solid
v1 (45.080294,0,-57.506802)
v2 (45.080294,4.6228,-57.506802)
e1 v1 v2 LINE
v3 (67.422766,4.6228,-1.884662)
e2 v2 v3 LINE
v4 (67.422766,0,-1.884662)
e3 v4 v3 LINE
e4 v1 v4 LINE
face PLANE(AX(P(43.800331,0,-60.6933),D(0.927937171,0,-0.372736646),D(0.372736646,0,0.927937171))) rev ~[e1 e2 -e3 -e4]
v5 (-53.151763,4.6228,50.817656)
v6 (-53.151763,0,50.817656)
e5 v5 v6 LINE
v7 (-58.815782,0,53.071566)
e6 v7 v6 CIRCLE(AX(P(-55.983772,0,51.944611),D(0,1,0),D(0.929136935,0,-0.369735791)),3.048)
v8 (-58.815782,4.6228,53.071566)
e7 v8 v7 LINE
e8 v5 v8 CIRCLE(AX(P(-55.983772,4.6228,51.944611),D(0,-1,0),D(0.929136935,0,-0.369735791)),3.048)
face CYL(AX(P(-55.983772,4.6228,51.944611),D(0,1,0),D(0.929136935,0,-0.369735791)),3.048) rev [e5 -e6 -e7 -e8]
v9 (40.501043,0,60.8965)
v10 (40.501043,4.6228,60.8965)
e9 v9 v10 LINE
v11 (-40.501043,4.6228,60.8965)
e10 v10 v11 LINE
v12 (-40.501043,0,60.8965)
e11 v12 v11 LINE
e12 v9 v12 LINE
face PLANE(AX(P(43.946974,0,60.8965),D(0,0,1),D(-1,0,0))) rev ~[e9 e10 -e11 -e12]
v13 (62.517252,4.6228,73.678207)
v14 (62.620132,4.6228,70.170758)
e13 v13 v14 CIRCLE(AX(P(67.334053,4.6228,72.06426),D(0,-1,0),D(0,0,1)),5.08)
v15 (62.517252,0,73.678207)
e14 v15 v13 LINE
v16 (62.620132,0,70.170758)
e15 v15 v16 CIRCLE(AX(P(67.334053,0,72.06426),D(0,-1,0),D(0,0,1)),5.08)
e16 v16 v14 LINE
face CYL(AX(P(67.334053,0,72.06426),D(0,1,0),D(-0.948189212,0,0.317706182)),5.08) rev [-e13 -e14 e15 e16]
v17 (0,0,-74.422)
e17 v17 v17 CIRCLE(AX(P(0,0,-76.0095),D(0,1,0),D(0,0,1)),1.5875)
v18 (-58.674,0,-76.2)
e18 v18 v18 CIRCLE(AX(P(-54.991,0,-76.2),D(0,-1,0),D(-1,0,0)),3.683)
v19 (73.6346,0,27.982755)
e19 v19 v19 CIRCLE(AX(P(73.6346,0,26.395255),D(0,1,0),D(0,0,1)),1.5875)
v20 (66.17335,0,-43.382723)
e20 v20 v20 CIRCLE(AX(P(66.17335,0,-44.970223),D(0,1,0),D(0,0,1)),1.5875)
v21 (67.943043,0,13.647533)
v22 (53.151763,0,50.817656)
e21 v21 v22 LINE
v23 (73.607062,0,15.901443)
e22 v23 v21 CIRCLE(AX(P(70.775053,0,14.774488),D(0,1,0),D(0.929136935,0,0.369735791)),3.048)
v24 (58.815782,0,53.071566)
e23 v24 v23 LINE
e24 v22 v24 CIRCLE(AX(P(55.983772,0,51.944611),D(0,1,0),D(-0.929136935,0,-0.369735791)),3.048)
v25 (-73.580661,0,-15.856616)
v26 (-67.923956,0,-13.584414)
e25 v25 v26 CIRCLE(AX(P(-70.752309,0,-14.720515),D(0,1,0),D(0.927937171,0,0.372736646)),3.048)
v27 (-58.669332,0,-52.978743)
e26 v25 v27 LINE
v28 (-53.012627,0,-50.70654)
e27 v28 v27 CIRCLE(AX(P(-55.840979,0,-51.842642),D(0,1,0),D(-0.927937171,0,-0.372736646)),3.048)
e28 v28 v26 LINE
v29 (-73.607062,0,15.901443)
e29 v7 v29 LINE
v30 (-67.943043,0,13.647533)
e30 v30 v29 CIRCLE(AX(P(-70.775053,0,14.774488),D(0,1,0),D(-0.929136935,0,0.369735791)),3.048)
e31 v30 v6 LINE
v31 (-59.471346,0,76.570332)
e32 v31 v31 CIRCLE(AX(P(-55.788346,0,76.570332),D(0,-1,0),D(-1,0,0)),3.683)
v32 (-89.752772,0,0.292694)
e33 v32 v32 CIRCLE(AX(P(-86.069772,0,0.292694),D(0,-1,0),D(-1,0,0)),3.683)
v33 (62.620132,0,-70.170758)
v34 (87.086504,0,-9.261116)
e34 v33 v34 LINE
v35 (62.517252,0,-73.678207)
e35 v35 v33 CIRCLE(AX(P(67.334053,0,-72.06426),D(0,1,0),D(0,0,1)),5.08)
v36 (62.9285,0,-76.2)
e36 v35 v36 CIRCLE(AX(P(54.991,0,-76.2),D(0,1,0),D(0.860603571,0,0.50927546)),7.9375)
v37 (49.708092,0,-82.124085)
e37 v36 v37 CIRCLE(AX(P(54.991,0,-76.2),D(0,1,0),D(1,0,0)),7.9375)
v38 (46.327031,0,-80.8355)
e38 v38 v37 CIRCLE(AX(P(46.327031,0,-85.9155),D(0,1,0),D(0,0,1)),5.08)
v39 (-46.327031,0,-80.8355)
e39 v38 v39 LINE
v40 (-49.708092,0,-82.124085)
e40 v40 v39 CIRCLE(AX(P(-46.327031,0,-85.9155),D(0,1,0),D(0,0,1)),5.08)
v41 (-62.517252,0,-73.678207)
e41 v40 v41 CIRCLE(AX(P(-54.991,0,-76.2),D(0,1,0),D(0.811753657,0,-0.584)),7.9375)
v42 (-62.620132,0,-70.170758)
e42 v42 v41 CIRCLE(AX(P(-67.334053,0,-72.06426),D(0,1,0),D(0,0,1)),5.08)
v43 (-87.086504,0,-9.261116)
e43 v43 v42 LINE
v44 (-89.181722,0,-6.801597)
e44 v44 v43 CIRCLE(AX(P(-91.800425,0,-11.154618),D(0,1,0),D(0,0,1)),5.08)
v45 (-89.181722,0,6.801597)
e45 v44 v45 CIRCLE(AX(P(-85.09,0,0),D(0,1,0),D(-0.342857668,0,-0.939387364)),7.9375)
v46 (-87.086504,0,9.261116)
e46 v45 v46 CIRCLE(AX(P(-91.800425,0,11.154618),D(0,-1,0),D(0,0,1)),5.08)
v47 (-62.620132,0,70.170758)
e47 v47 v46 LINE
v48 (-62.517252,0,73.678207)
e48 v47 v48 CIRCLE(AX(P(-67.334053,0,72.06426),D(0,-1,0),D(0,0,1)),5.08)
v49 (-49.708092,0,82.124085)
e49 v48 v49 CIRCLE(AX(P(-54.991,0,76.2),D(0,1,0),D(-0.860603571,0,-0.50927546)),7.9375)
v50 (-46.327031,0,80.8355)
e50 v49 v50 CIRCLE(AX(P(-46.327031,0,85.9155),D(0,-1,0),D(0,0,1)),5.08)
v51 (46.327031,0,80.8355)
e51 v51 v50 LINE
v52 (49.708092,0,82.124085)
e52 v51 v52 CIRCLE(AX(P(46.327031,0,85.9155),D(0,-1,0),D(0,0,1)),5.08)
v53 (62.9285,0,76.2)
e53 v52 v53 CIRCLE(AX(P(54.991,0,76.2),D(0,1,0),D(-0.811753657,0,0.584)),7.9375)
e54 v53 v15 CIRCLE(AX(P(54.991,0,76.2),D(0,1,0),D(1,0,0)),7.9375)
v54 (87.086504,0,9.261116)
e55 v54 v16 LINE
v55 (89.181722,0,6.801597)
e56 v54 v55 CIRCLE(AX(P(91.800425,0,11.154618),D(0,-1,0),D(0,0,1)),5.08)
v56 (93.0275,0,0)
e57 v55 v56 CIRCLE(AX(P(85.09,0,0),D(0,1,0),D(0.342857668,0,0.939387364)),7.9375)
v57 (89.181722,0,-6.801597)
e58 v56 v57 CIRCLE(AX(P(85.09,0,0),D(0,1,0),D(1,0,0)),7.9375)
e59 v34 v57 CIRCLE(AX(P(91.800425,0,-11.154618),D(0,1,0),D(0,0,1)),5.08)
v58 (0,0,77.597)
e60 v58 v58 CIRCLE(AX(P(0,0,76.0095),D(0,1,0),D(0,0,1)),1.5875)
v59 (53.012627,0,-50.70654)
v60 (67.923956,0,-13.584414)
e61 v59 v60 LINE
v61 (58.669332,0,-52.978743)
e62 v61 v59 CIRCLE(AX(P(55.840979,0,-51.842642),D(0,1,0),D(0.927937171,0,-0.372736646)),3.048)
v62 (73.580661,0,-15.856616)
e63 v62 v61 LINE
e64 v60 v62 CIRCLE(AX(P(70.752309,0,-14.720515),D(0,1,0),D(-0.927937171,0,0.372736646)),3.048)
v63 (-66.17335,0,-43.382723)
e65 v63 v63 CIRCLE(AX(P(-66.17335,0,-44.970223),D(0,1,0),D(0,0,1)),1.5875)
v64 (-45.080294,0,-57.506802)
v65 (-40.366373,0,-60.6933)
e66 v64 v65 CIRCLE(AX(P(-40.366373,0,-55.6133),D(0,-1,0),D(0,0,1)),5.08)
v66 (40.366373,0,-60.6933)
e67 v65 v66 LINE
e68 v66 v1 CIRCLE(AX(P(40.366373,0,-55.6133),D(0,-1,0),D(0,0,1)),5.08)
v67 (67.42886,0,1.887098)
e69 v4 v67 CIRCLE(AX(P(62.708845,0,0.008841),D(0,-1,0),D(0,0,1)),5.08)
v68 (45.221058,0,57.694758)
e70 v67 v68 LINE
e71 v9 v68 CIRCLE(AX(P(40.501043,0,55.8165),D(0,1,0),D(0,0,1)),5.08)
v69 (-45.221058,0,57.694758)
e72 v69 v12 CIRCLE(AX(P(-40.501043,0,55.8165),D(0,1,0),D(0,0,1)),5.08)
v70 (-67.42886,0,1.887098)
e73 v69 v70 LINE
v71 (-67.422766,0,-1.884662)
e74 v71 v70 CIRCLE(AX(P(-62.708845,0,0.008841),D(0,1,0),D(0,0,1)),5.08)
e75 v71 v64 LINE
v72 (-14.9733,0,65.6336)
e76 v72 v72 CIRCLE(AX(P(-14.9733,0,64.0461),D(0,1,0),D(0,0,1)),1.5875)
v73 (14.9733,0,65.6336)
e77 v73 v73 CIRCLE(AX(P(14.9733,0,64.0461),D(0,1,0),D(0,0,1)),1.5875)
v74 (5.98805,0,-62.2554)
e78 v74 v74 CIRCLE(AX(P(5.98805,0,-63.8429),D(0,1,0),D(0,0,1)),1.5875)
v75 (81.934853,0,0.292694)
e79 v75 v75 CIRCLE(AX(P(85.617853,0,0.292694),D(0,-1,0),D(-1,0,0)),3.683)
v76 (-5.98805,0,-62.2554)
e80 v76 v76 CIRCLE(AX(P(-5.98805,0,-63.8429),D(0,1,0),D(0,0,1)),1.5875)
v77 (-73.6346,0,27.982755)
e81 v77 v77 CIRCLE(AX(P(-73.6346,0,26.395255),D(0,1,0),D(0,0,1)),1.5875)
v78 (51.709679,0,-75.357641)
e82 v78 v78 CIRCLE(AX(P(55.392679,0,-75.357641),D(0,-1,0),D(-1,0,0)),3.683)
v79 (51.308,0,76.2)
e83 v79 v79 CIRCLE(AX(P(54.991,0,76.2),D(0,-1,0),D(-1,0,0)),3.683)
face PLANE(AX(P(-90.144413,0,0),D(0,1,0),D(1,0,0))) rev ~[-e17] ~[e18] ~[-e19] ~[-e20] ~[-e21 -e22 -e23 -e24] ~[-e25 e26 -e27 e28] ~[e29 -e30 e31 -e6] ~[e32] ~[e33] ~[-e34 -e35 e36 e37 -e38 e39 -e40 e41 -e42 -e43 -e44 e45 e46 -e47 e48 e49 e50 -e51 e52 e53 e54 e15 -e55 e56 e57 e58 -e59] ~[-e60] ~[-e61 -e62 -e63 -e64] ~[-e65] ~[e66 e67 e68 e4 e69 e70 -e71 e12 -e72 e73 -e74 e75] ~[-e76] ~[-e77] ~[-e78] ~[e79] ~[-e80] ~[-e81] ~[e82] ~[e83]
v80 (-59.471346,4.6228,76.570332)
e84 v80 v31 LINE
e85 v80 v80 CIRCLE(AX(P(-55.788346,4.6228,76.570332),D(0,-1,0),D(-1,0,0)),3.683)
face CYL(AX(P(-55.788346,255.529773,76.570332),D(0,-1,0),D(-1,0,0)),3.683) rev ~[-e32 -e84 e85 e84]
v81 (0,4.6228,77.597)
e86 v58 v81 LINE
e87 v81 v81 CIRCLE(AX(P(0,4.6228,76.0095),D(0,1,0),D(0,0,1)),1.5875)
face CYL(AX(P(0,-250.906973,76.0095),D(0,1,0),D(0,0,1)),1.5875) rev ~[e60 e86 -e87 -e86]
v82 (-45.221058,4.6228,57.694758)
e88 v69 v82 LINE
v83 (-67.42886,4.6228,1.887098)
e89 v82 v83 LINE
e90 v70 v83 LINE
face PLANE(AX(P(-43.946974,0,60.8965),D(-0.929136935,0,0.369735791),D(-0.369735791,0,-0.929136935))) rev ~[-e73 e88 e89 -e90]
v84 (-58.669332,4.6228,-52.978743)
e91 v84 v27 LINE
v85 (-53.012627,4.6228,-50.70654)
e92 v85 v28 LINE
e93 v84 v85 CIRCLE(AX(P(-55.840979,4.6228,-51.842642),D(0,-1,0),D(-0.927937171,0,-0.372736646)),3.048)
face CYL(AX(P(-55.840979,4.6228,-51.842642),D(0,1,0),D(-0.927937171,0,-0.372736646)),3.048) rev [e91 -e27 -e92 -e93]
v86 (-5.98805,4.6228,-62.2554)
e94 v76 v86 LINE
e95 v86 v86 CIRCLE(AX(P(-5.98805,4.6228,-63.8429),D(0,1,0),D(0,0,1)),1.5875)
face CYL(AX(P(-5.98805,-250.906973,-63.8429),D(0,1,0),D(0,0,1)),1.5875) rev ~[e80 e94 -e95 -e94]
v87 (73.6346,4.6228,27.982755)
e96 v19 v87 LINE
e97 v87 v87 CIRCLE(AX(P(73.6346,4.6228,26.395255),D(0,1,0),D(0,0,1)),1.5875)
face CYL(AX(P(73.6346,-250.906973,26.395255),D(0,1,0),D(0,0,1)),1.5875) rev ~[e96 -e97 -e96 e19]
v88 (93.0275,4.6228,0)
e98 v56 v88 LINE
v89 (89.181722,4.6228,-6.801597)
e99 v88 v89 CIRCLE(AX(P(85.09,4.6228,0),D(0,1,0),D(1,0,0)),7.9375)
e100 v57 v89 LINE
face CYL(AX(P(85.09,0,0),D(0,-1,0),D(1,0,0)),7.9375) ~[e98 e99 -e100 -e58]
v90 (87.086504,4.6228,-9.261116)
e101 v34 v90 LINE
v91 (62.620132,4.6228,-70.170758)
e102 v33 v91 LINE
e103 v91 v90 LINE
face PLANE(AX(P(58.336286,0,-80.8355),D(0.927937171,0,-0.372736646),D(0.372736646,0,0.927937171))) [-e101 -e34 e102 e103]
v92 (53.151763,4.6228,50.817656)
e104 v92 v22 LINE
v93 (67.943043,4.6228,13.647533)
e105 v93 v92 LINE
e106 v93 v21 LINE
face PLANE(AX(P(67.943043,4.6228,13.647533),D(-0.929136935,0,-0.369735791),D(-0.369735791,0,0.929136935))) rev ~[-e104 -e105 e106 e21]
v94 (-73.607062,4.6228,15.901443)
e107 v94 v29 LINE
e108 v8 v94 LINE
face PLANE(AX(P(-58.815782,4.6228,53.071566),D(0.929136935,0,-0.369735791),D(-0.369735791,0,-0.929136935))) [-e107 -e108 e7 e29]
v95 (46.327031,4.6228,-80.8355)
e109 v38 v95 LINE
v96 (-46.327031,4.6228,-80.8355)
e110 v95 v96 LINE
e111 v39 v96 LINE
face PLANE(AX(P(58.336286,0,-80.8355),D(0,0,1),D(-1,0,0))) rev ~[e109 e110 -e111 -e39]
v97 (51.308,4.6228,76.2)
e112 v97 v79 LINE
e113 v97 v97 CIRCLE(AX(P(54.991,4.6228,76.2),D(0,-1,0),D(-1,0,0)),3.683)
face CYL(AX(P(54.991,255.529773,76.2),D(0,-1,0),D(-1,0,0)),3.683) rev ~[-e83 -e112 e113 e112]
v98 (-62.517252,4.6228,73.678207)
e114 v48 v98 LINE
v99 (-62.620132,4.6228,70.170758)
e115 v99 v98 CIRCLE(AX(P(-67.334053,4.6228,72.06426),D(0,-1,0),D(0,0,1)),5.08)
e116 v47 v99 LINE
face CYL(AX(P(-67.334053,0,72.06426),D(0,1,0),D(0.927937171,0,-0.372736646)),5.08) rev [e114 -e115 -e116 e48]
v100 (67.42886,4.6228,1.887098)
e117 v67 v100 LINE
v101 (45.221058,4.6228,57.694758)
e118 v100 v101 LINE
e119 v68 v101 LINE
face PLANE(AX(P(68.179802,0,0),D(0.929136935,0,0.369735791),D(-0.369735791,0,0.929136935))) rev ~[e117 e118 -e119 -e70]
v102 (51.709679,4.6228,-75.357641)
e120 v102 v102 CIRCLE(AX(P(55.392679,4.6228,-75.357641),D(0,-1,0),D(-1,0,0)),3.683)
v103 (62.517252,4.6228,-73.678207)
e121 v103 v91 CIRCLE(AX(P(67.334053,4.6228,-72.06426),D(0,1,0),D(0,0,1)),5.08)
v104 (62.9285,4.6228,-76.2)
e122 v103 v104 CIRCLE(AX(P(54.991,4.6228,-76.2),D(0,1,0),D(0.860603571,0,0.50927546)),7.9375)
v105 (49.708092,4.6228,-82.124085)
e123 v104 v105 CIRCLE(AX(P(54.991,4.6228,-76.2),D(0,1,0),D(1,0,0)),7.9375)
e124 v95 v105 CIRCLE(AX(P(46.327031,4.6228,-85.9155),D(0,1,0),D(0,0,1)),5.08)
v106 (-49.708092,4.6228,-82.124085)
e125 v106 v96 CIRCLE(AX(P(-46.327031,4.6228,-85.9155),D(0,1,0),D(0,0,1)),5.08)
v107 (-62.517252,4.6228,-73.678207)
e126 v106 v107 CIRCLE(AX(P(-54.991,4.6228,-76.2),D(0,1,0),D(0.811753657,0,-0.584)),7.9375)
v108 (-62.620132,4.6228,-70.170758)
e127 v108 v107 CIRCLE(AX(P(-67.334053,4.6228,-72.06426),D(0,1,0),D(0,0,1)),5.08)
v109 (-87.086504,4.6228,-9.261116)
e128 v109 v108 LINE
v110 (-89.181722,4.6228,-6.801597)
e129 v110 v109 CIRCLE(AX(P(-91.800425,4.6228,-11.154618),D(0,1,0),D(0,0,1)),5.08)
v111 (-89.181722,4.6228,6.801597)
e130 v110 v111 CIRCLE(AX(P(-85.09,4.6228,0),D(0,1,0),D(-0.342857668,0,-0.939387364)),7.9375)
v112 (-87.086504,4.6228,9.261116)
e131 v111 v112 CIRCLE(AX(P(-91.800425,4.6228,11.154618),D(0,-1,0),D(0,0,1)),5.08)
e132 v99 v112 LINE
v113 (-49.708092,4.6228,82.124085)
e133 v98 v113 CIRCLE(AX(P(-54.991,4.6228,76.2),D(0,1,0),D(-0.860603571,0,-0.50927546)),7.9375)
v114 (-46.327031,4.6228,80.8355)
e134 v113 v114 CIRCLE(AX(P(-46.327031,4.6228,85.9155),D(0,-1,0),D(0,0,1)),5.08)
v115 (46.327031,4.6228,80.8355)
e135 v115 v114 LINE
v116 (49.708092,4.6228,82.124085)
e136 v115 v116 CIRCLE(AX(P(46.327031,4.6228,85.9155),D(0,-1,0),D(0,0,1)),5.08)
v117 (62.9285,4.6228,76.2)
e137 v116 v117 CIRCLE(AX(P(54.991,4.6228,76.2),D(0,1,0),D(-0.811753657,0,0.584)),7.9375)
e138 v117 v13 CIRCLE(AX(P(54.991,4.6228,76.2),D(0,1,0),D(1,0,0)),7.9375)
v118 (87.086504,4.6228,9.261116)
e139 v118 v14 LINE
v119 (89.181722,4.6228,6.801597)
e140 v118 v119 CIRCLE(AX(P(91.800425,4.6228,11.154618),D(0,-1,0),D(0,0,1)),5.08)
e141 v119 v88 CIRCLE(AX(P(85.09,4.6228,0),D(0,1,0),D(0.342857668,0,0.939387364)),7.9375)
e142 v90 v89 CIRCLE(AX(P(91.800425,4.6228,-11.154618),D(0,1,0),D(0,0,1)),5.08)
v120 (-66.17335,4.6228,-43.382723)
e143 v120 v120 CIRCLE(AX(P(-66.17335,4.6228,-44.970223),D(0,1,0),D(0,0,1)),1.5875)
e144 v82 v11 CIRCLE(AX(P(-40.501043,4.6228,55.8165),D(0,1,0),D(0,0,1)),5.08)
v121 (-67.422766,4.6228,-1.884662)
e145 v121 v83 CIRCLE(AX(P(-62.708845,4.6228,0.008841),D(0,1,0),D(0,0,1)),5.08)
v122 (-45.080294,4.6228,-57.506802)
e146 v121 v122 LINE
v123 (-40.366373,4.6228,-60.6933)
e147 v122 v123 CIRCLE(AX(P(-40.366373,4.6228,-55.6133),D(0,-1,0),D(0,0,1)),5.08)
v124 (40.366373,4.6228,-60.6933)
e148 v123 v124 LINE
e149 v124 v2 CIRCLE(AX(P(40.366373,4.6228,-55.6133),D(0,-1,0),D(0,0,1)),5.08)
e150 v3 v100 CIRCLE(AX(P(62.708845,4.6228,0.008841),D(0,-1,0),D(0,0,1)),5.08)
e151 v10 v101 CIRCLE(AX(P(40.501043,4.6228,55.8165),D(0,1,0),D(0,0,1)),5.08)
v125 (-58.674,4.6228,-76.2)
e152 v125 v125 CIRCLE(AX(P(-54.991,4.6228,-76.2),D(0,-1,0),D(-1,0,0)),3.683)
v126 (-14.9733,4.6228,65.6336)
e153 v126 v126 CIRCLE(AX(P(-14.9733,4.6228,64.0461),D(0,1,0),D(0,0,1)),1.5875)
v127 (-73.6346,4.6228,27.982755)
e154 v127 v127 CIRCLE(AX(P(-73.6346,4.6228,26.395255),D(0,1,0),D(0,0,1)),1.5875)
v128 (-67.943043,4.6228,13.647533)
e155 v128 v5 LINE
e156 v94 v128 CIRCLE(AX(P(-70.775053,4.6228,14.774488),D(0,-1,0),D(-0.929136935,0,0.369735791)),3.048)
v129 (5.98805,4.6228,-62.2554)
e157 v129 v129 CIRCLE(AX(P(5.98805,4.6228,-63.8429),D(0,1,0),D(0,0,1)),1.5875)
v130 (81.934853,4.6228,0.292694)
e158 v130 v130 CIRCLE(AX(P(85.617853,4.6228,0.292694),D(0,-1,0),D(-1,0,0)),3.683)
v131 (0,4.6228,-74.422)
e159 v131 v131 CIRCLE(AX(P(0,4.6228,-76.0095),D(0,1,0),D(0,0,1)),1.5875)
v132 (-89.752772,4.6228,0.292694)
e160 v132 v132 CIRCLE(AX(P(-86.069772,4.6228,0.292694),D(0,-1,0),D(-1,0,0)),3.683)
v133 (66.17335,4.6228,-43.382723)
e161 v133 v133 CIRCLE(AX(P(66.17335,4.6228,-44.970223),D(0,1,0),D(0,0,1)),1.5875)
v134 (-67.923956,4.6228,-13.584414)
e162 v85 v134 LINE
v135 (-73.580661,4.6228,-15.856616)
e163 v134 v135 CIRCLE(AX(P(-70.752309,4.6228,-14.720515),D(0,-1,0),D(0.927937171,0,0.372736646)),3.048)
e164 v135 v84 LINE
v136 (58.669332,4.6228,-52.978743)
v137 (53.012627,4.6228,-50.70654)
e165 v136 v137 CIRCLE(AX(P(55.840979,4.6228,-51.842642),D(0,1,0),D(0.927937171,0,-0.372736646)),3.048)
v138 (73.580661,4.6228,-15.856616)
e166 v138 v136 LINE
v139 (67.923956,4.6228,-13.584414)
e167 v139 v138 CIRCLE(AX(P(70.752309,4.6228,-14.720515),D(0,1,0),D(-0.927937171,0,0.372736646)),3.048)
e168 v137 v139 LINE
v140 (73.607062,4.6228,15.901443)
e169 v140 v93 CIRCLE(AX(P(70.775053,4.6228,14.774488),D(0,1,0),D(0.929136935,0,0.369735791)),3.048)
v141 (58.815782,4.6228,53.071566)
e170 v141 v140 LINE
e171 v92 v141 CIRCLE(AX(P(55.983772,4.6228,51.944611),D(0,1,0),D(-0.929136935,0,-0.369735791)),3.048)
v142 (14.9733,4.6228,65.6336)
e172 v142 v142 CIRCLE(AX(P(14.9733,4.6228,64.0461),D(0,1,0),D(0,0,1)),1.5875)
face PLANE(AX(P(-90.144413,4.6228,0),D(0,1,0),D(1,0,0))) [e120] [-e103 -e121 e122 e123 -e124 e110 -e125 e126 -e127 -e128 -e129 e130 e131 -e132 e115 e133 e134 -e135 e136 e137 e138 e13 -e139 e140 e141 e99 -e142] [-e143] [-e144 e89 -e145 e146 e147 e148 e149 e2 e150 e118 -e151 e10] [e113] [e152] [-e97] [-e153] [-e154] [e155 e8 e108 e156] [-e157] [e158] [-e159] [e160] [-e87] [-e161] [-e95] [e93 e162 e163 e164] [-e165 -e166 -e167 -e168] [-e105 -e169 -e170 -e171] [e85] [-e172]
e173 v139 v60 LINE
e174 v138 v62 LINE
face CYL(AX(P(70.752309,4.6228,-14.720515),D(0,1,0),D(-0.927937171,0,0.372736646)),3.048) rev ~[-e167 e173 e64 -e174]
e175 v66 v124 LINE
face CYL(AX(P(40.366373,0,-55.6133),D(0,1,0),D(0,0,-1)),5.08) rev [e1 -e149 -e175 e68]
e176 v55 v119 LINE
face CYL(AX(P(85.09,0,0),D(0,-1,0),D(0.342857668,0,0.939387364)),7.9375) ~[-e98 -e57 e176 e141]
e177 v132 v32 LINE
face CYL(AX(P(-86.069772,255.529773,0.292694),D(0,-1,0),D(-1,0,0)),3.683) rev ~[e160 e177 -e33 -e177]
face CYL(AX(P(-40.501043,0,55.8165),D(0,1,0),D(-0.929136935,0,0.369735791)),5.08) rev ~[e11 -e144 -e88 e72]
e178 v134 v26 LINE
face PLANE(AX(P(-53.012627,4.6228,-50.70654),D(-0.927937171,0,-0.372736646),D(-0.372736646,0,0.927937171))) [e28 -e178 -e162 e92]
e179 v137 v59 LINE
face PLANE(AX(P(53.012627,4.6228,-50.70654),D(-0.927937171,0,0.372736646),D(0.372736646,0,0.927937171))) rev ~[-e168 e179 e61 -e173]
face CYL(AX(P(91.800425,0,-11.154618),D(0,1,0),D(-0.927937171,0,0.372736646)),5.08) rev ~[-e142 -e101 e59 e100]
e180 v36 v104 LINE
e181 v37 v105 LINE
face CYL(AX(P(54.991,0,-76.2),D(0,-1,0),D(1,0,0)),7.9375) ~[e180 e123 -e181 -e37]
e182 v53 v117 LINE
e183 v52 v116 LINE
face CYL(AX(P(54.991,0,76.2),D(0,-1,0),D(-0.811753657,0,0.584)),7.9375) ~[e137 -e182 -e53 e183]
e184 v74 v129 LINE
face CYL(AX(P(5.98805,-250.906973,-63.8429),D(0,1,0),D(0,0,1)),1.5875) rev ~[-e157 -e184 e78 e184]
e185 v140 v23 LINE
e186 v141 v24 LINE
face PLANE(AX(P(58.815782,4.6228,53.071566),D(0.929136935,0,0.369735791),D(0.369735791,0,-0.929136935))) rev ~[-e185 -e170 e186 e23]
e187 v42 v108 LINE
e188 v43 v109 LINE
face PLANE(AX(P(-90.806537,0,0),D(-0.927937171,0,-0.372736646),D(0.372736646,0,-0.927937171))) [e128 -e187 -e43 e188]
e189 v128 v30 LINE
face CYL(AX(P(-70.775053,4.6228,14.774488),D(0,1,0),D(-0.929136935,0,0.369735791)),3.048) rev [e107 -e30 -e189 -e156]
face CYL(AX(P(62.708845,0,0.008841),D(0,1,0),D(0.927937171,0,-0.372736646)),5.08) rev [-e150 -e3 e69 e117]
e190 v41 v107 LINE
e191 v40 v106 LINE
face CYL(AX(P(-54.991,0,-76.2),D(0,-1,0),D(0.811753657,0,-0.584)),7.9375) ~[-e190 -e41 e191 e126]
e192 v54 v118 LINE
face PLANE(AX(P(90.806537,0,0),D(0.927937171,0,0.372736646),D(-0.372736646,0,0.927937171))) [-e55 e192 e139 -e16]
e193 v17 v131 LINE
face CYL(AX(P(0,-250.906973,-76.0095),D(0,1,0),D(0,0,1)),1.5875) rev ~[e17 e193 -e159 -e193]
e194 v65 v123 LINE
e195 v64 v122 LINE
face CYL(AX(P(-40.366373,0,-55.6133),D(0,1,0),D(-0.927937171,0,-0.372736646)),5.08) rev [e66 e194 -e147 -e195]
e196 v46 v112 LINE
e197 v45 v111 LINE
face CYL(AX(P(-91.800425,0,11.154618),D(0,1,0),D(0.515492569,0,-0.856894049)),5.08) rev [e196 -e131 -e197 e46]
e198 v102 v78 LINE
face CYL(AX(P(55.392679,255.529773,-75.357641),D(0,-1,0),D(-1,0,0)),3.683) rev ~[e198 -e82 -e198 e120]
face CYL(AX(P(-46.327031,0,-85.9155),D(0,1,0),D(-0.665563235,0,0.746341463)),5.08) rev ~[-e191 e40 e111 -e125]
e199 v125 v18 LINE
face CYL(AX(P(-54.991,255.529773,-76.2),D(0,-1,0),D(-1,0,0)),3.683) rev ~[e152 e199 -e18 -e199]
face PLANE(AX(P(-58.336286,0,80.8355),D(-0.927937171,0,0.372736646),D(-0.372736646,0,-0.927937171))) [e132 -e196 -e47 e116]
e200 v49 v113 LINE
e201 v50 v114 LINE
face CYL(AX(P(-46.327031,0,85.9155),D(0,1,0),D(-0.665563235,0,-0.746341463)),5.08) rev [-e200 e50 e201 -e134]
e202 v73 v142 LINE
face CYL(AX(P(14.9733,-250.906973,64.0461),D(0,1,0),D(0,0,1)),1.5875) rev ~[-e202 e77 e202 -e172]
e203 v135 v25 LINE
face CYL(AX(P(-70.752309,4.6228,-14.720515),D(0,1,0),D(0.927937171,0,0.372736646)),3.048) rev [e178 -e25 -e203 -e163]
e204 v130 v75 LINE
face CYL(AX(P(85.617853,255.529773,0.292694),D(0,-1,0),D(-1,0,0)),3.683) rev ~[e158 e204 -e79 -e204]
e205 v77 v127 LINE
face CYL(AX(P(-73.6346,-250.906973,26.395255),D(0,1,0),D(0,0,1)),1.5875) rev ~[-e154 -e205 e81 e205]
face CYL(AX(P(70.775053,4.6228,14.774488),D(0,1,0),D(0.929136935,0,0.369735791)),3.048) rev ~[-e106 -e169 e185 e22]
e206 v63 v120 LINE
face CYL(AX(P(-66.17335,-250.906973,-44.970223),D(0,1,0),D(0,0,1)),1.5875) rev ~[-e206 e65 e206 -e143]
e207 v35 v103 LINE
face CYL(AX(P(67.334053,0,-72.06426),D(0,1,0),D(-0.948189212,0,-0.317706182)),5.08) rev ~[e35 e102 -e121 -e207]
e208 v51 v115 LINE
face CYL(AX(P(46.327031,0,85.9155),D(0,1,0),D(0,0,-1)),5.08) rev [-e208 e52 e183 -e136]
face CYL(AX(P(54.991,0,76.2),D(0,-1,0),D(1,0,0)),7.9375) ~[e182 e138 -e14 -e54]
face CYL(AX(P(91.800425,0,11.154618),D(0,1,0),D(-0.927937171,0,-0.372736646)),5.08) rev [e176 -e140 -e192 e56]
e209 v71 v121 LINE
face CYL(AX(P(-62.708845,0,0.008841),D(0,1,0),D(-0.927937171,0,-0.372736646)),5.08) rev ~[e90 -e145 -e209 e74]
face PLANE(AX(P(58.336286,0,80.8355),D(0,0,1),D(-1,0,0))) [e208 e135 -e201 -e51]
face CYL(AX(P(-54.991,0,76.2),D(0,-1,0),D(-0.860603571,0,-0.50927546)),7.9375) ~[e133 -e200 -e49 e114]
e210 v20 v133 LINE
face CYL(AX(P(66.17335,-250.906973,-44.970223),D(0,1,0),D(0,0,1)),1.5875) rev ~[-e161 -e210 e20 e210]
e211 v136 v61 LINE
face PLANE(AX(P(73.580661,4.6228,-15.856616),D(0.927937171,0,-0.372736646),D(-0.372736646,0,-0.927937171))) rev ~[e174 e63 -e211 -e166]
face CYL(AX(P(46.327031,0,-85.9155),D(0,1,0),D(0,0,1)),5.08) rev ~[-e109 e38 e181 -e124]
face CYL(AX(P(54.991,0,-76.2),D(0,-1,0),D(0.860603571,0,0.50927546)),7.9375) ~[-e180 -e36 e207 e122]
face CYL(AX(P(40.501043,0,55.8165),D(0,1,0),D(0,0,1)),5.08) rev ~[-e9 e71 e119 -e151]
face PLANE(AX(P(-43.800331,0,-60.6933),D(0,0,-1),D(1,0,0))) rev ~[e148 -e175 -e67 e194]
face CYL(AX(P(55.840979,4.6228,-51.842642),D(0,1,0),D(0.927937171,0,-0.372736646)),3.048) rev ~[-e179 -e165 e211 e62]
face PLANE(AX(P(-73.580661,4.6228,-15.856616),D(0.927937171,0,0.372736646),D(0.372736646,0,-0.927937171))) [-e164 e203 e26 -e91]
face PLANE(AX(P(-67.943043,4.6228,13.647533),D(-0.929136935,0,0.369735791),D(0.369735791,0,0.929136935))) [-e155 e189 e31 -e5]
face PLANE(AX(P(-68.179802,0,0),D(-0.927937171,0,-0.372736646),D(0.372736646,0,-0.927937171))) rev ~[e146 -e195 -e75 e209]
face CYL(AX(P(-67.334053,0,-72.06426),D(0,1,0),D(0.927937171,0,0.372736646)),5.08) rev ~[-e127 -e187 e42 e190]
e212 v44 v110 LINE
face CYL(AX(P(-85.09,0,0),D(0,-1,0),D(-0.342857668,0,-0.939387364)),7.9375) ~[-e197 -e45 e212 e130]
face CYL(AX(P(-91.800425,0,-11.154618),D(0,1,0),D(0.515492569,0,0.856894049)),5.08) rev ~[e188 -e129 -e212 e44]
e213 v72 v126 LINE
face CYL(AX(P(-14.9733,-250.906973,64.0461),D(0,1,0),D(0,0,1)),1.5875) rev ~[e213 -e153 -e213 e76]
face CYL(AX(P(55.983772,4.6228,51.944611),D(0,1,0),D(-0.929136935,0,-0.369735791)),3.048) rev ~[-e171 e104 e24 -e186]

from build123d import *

# Parameters (mm, degrees)
BOSS_EXTRUDE1_DEPTH          = 4.6228
L_0_29_DIAMETER_HOLE1_D      = 7.366
F_1_8_0_125_DIAMETER_HOLE1_D = 3.175
CUT_EXTRUDE1_DEPTH           = 126.517349169
FILLET1_R                    = 5.08


with BuildPart() as part:
    # Sketch1 → Boss-Extrude1 (new body)
    # profile 1 of 25: a face of its own
    with BuildSketch(Plane(origin=(0, 0, 0), x_dir=(1, 0, 0), z_dir=(0, 1, 0))):
        Polygon((-90.8065372, 0), (-58.336285833, 80.8355), (0, 80.8355), (58.336285833, 80.8355), (90.8065372, 0), (58.336285833, -80.8355), (-58.336285833, -80.8355), align=None)
        Polygon((68.179802243, 0), (43.946974167, -60.8965), (-43.946974167, -60.8965), (-68.179802243, 0), (-43.8003315, 60.6933), (0, 60.6933), (43.8003315, 60.6933), align=None, mode=Mode.SUBTRACT)
    # profile 2 of 25: a face of its own
    with BuildSketch(Plane(origin=(0, 0, 0), x_dir=(1, 0, 0), z_dir=(0, 1, 0))):
        with BuildLine():
            ThreePointArc((-47.0535, 76.2), (-47.436281026, 78.635185304), (-48.547705346, 80.8355))
            Line((-48.547705346, 80.8355), (-58.336285833, 80.8355))
            Line((-58.336285833, 80.8355), (-61.822040842, 72.157626035))
            ThreePointArc((-61.822040842, 72.157626035), (-52.895466706, 68.544110341), (-47.0535, 76.2))
        make_face()
    # profile 3 of 25: a face of its own
    with BuildSketch(Plane(origin=(0, 0, 0), x_dir=(1, 0, 0), z_dir=(0, 1, 0))):
        with BuildLine():
            Line((-58.336285833, 80.8355), (-48.547705346, 80.8355))
            ThreePointArc((-48.547705346, 80.8355), (-59.334266157, 82.843789983), (-61.822040842, 72.157626035))
            Line((-61.822040842, 72.157626035), (-58.336285833, 80.8355))
        make_face()
    # profile 4 of 25: a face of its own
    with BuildSketch(Plane(origin=(0, 0, 0), x_dir=(1, 0, 0), z_dir=(0, 1, 0))):
        with BuildLine():
            ThreePointArc((-47.0535, 76.2), (-47.436281026, 78.635185304), (-48.547705346, 80.8355))
            Line((-48.547705346, 80.8355), (-58.336285833, 80.8355))
            Line((-58.336285833, 80.8355), (-61.822040842, 72.157626035))
            ThreePointArc((-61.822040842, 72.157626035), (-52.895466706, 68.544110341), (-47.0535, 76.2))
        make_face()
    # profile 5 of 25: a face of its own
    with BuildSketch(Plane(origin=(0, 0, 0), x_dir=(1, 0, 0), z_dir=(0, 1, 0))):
        with BuildLine():
            Line((-58.336285833, 80.8355), (-48.547705346, 80.8355))
            ThreePointArc((-48.547705346, 80.8355), (-59.334266157, 82.843789983), (-61.822040842, 72.157626035))
            Line((-61.822040842, 72.157626035), (-58.336285833, 80.8355))
        make_face()
    # profile 6 of 25: a face of its own
    with BuildSketch(Plane(origin=(0, 0, 0), x_dir=(1, 0, 0), z_dir=(0, 1, 0))):
        with BuildLine():
            ThreePointArc((62.9285, 76.2), (57.426185304, 83.754718974), (48.547705346, 80.8355))
            Line((48.547705346, 80.8355), (58.336285833, 80.8355))
            Line((58.336285833, 80.8355), (61.822040842, 72.157626035))
            ThreePointArc((61.822040842, 72.157626035), (62.646889659, 74.104466706), (62.9285, 76.2))
        make_face()
    # profile 7 of 25: a face of its own
    with BuildSketch(Plane(origin=(0, 0, 0), x_dir=(1, 0, 0), z_dir=(0, 1, 0))):
        with BuildLine():
            Line((58.336285833, 80.8355), (48.547705346, 80.8355))
            ThreePointArc((48.547705346, 80.8355), (50.647733843, 69.556210017), (61.822040842, 72.157626035))
            Line((61.822040842, 72.157626035), (58.336285833, 80.8355))
        make_face()
    # profile 8 of 25: a face of its own
    with BuildSketch(Plane(origin=(0, 0, 0), x_dir=(1, 0, 0), z_dir=(0, 1, 0))):
        with BuildLine():
            ThreePointArc((62.9285, 76.2), (57.426185304, 83.754718974), (48.547705346, 80.8355))
            Line((48.547705346, 80.8355), (58.336285833, 80.8355))
            Line((58.336285833, 80.8355), (61.822040842, 72.157626035))
            ThreePointArc((61.822040842, 72.157626035), (62.646889659, 74.104466706), (62.9285, 76.2))
        make_face()
    # profile 9 of 25: a face of its own
    with BuildSketch(Plane(origin=(0, 0, 0), x_dir=(1, 0, 0), z_dir=(0, 1, 0))):
        with BuildLine():
            Line((58.336285833, 80.8355), (48.547705346, 80.8355))
            ThreePointArc((48.547705346, 80.8355), (50.647733843, 69.556210017), (61.822040842, 72.157626035))
            Line((61.822040842, 72.157626035), (58.336285833, 80.8355))
        make_face()
    # profile 10 of 25: a face of its own
    with BuildSketch(Plane(origin=(0, 0, 0), x_dir=(1, 0, 0), z_dir=(0, 1, 0))):
        with BuildLine():
            ThreePointArc((93.0275, 0), (91.594047917, 4.549864498), (87.811432738, 7.456387202))
            Line((87.811432738, 7.456387202), (90.8065372, 0))
            Line((90.8065372, 0), (87.811432738, -7.456387202))
            ThreePointArc((87.811432738, -7.456387202), (91.594047917, -4.549864498), (93.0275, 0))
        make_face()
    # profile 11 of 25: a face of its own
    with BuildSketch(Plane(origin=(0, 0, 0), x_dir=(1, 0, 0), z_dir=(0, 1, 0))):
        with BuildLine():
            Line((90.8065372, 0), (87.811432738, 7.456387202))
            ThreePointArc((87.811432738, 7.456387202), (77.1525, 0), (87.811432738, -7.456387202))
            Line((87.811432738, -7.456387202), (90.8065372, 0))
        make_face()
    # profile 12 of 25: a face of its own
    with BuildSketch(Plane(origin=(0, 0, 0), x_dir=(1, 0, 0), z_dir=(0, 1, 0))):
        with BuildLine():
            ThreePointArc((93.0275, 0), (91.594047917, 4.549864498), (87.811432738, 7.456387202))
            Line((87.811432738, 7.456387202), (90.8065372, 0))
            Line((90.8065372, 0), (87.811432738, -7.456387202))
            ThreePointArc((87.811432738, -7.456387202), (91.594047917, -4.549864498), (93.0275, 0))
        make_face()
    # profile 13 of 25: a face of its own
    with BuildSketch(Plane(origin=(0, 0, 0), x_dir=(1, 0, 0), z_dir=(0, 1, 0))):
        with BuildLine():
            Line((90.8065372, 0), (87.811432738, 7.456387202))
            ThreePointArc((87.811432738, 7.456387202), (77.1525, 0), (87.811432738, -7.456387202))
            Line((87.811432738, -7.456387202), (90.8065372, 0))
        make_face()
    # profile 14 of 25: a face of its own
    with BuildSketch(Plane(origin=(0, 0, 0), x_dir=(1, 0, 0), z_dir=(0, 1, 0))):
        with BuildLine():
            ThreePointArc((62.9285, -76.2), (62.646889659, -74.104466706), (61.822040842, -72.157626035))
            Line((61.822040842, -72.157626035), (58.336285833, -80.8355))
            Line((58.336285833, -80.8355), (48.547705346, -80.8355))
            ThreePointArc((48.547705346, -80.8355), (57.426185304, -83.754718974), (62.9285, -76.2))
        make_face()
    # profile 15 of 25: a face of its own
    with BuildSketch(Plane(origin=(0, 0, 0), x_dir=(1, 0, 0), z_dir=(0, 1, 0))):
        with BuildLine():
            Line((58.336285833, -80.8355), (61.822040842, -72.157626035))
            ThreePointArc((61.822040842, -72.157626035), (50.647733843, -69.556210017), (48.547705346, -80.8355))
            Line((48.547705346, -80.8355), (58.336285833, -80.8355))
        make_face()
    # profile 16 of 25: a face of its own
    with BuildSketch(Plane(origin=(0, 0, 0), x_dir=(1, 0, 0), z_dir=(0, 1, 0))):
        with BuildLine():
            ThreePointArc((62.9285, -76.2), (62.646889659, -74.104466706), (61.822040842, -72.157626035))
            Line((61.822040842, -72.157626035), (58.336285833, -80.8355))
            Line((58.336285833, -80.8355), (48.547705346, -80.8355))
            ThreePointArc((48.547705346, -80.8355), (57.426185304, -83.754718974), (62.9285, -76.2))
        make_face()
    # profile 17 of 25: a face of its own
    with BuildSketch(Plane(origin=(0, 0, 0), x_dir=(1, 0, 0), z_dir=(0, 1, 0))):
        with BuildLine():
            Line((58.336285833, -80.8355), (61.822040842, -72.157626035))
            ThreePointArc((61.822040842, -72.157626035), (50.647733843, -69.556210017), (48.547705346, -80.8355))
            Line((48.547705346, -80.8355), (58.336285833, -80.8355))
        make_face()
    # profile 18 of 25: a face of its own
    with BuildSketch(Plane(origin=(0, 0, 0), x_dir=(1, 0, 0), z_dir=(0, 1, 0))):
        with BuildLine():
            ThreePointArc((-47.0535, -76.2), (-52.895466706, -68.544110341), (-61.822040842, -72.157626035))
            Line((-61.822040842, -72.157626035), (-58.336285833, -80.8355))
            Line((-58.336285833, -80.8355), (-48.547705346, -80.8355))
            ThreePointArc((-48.547705346, -80.8355), (-47.436281026, -78.635185304), (-47.0535, -76.2))
        make_face()
    # profile 19 of 25: a face of its own
    with BuildSketch(Plane(origin=(0, 0, 0), x_dir=(1, 0, 0), z_dir=(0, 1, 0))):
        with BuildLine():
            Line((-58.336285833, -80.8355), (-61.822040842, -72.157626035))
            ThreePointArc((-61.822040842, -72.157626035), (-59.334266157, -82.843789983), (-48.547705346, -80.8355))
            Line((-48.547705346, -80.8355), (-58.336285833, -80.8355))
        make_face()
    # profile 20 of 25: a face of its own
    with BuildSketch(Plane(origin=(0, 0, 0), x_dir=(1, 0, 0), z_dir=(0, 1, 0))):
        with BuildLine():
            ThreePointArc((-47.0535, -76.2), (-52.895466706, -68.544110341), (-61.822040842, -72.157626035))
            Line((-61.822040842, -72.157626035), (-58.336285833, -80.8355))
            Line((-58.336285833, -80.8355), (-48.547705346, -80.8355))
            ThreePointArc((-48.547705346, -80.8355), (-47.436281026, -78.635185304), (-47.0535, -76.2))
        make_face()
    # profile 21 of 25: a face of its own
    with BuildSketch(Plane(origin=(0, 0, 0), x_dir=(1, 0, 0), z_dir=(0, 1, 0))):
        with BuildLine():
            Line((-58.336285833, -80.8355), (-61.822040842, -72.157626035))
            ThreePointArc((-61.822040842, -72.157626035), (-59.334266157, -82.843789983), (-48.547705346, -80.8355))
            Line((-48.547705346, -80.8355), (-58.336285833, -80.8355))
        make_face()
    # profile 22 of 25: a face of its own
    with BuildSketch(Plane(origin=(0, 0, 0), x_dir=(1, 0, 0), z_dir=(0, 1, 0))):
        with BuildLine():
            ThreePointArc((-77.1525, 0), (-80.540135502, 6.504047917), (-87.811432738, 7.456387202))
            Line((-87.811432738, 7.456387202), (-90.8065372, 0))
            Line((-90.8065372, 0), (-87.811432738, -7.456387202))
            ThreePointArc((-87.811432738, -7.456387202), (-80.540135502, -6.504047917), (-77.1525, 0))
        make_face()
    # profile 23 of 25: a face of its own
    with BuildSketch(Plane(origin=(0, 0, 0), x_dir=(1, 0, 0), z_dir=(0, 1, 0))):
        with BuildLine():
            Line((-90.8065372, 0), (-87.811432738, 7.456387202))
            ThreePointArc((-87.811432738, 7.456387202), (-93.0275, 0), (-87.811432738, -7.456387202))
            Line((-87.811432738, -7.456387202), (-90.8065372, 0))
        make_face()
    # profile 24 of 25: a face of its own
    with BuildSketch(Plane(origin=(0, 0, 0), x_dir=(1, 0, 0), z_dir=(0, 1, 0))):
        with BuildLine():
            ThreePointArc((-77.1525, 0), (-80.540135502, 6.504047917), (-87.811432738, 7.456387202))
            Line((-87.811432738, 7.456387202), (-90.8065372, 0))
            Line((-90.8065372, 0), (-87.811432738, -7.456387202))
            ThreePointArc((-87.811432738, -7.456387202), (-80.540135502, -6.504047917), (-77.1525, 0))
        make_face()
    # profile 25 of 25: a face of its own
    with BuildSketch(Plane(origin=(0, 0, 0), x_dir=(1, 0, 0), z_dir=(0, 1, 0))):
        with BuildLine():
            Line((-90.8065372, 0), (-87.811432738, 7.456387202))
            ThreePointArc((-87.811432738, 7.456387202), (-93.0275, 0), (-87.811432738, -7.456387202))
            Line((-87.811432738, -7.456387202), (-90.8065372, 0))
        make_face()
    extrude(amount=BOSS_EXTRUDE1_DEPTH)

    # L (0.29) Diameter Hole1 (through all)
    with Locations(Plane(origin=(0, 4.6228, 0), x_dir=(1, 0, 0), z_dir=(0, 1, 0))):
        with Locations((-54.991, 76.2), (85.617853256, -0.292694294), (55.392678921, 75.357641332), (54.991, -76.2), (-55.78834552, -76.570331566), (-86.069772248, -0.292694294)):
            Hole(L_0_29_DIAMETER_HOLE1_D / 2)

    # 1/8 (0.125) Diameter Hole1 (through all)
    with Locations(Plane(origin=(0, 0, -76.0095), x_dir=(0, 0, -1), z_dir=(0, -1, 0))):
        with Locations((0, 0), (-102.404754969, -73.6346), (-31.039277207, -66.17335), (-31.039277207, 66.17335), (-102.404754969, 73.6346), (-152.019, 0), (-140.0556, 14.9733), (-140.0556, -14.9733), (-12.1666, 5.98805), (-12.1666, -5.98805)):
            Hole(F_1_8_0_125_DIAMETER_HOLE1_D / 2)

    # Sketch7 → Cut-Extrude1 (cut, through all)
    with BuildSketch(Plane(origin=(0, 4.6228, 0), x_dir=(1, 0, 0), z_dir=(0, 1, 0))):
        with BuildLine():
            Line((-67.94304322, -13.647533379), (-53.15176289, -50.817656478))
            ThreePointArc((-53.15176289, -50.817656478), (-54.856817577, -54.776620549), (-58.815781648, -53.071565862))
            Line((-58.815781648, -53.071565862), (-73.607061978, -15.901442763))
            ThreePointArc((-73.607061978, -15.901442763), (-71.902007291, -11.942478692), (-67.94304322, -13.647533379))
        make_face()
        with BuildLine():
            Line((-53.012626887, 50.706540309), (-67.923956426, 13.584413802))
            ThreePointArc((-67.923956426, 13.584413802), (-71.88841022, 11.892162605), (-73.580661417, 15.856616398))
            Line((-73.580661417, 15.856616398), (-58.669331879, 52.978742905))
            ThreePointArc((-58.669331879, 52.978742905), (-54.704878085, 54.670994103), (-53.012626887, 50.706540309))
        make_face()
        with BuildLine():
            Line((53.012626887, 50.706540309), (67.923956426, 13.584413802))
            ThreePointArc((67.923956426, 13.584413802), (71.88841022, 11.892162605), (73.580661417, 15.856616398))
            Line((73.580661417, 15.856616398), (58.669331879, 52.978742905))
            ThreePointArc((58.669331879, 52.978742905), (54.704878085, 54.670994103), (53.012626887, 50.706540309))
        make_face()
        with BuildLine():
            Line((67.94304322, -13.647533379), (53.15176289, -50.817656478))
            ThreePointArc((53.15176289, -50.817656478), (54.856817577, -54.776620549), (58.815781648, -53.071565862))
            Line((58.815781648, -53.071565862), (73.607061978, -15.901442763))
            ThreePointArc((73.607061978, -15.901442763), (71.902007291, -11.942478692), (67.94304322, -13.647533379))
        make_face()
    extrude(amount=-CUT_EXTRUDE1_DEPTH, mode=Mode.SUBTRACT)

    # Fillet1
    fillet1_edges = [part.edges().sort_by_distance(p)[0] for p in [
        (-43.946974167, 2.3114, 60.8965),
        (43.946974167, 2.3114, 60.8965),
        (68.179802243, 2.3114, 0),
        (43.8003315, 2.3114, -60.6933),
        (-43.8003315, 2.3114, -60.6933),
        (-68.179802243, 2.3114, 0),
        (48.547705346, 2.3114, -80.8355),
        (61.822040842, 2.3114, -72.157626035),
        (87.811432738, 2.3114, -7.456387202),
        (87.811432738, 2.3114, 7.456387202),
        (61.822040842, 2.3114, 72.157626035),
        (48.547705346, 2.3114, 80.8355),
        (-48.547705346, 2.3114, 80.8355),
        (-61.822040842, 2.3114, 72.157626035),
        (-87.811432738, 2.3114, 7.456387202),
        (-87.811432738, 2.3114, -7.456387202),
        (-61.822040842, 2.3114, -72.157626035),
        (-48.547705346, 2.3114, -80.8355),
    ]]
    fillet(fillet1_edges, radius=FILLET1_R)


solid = part.part
